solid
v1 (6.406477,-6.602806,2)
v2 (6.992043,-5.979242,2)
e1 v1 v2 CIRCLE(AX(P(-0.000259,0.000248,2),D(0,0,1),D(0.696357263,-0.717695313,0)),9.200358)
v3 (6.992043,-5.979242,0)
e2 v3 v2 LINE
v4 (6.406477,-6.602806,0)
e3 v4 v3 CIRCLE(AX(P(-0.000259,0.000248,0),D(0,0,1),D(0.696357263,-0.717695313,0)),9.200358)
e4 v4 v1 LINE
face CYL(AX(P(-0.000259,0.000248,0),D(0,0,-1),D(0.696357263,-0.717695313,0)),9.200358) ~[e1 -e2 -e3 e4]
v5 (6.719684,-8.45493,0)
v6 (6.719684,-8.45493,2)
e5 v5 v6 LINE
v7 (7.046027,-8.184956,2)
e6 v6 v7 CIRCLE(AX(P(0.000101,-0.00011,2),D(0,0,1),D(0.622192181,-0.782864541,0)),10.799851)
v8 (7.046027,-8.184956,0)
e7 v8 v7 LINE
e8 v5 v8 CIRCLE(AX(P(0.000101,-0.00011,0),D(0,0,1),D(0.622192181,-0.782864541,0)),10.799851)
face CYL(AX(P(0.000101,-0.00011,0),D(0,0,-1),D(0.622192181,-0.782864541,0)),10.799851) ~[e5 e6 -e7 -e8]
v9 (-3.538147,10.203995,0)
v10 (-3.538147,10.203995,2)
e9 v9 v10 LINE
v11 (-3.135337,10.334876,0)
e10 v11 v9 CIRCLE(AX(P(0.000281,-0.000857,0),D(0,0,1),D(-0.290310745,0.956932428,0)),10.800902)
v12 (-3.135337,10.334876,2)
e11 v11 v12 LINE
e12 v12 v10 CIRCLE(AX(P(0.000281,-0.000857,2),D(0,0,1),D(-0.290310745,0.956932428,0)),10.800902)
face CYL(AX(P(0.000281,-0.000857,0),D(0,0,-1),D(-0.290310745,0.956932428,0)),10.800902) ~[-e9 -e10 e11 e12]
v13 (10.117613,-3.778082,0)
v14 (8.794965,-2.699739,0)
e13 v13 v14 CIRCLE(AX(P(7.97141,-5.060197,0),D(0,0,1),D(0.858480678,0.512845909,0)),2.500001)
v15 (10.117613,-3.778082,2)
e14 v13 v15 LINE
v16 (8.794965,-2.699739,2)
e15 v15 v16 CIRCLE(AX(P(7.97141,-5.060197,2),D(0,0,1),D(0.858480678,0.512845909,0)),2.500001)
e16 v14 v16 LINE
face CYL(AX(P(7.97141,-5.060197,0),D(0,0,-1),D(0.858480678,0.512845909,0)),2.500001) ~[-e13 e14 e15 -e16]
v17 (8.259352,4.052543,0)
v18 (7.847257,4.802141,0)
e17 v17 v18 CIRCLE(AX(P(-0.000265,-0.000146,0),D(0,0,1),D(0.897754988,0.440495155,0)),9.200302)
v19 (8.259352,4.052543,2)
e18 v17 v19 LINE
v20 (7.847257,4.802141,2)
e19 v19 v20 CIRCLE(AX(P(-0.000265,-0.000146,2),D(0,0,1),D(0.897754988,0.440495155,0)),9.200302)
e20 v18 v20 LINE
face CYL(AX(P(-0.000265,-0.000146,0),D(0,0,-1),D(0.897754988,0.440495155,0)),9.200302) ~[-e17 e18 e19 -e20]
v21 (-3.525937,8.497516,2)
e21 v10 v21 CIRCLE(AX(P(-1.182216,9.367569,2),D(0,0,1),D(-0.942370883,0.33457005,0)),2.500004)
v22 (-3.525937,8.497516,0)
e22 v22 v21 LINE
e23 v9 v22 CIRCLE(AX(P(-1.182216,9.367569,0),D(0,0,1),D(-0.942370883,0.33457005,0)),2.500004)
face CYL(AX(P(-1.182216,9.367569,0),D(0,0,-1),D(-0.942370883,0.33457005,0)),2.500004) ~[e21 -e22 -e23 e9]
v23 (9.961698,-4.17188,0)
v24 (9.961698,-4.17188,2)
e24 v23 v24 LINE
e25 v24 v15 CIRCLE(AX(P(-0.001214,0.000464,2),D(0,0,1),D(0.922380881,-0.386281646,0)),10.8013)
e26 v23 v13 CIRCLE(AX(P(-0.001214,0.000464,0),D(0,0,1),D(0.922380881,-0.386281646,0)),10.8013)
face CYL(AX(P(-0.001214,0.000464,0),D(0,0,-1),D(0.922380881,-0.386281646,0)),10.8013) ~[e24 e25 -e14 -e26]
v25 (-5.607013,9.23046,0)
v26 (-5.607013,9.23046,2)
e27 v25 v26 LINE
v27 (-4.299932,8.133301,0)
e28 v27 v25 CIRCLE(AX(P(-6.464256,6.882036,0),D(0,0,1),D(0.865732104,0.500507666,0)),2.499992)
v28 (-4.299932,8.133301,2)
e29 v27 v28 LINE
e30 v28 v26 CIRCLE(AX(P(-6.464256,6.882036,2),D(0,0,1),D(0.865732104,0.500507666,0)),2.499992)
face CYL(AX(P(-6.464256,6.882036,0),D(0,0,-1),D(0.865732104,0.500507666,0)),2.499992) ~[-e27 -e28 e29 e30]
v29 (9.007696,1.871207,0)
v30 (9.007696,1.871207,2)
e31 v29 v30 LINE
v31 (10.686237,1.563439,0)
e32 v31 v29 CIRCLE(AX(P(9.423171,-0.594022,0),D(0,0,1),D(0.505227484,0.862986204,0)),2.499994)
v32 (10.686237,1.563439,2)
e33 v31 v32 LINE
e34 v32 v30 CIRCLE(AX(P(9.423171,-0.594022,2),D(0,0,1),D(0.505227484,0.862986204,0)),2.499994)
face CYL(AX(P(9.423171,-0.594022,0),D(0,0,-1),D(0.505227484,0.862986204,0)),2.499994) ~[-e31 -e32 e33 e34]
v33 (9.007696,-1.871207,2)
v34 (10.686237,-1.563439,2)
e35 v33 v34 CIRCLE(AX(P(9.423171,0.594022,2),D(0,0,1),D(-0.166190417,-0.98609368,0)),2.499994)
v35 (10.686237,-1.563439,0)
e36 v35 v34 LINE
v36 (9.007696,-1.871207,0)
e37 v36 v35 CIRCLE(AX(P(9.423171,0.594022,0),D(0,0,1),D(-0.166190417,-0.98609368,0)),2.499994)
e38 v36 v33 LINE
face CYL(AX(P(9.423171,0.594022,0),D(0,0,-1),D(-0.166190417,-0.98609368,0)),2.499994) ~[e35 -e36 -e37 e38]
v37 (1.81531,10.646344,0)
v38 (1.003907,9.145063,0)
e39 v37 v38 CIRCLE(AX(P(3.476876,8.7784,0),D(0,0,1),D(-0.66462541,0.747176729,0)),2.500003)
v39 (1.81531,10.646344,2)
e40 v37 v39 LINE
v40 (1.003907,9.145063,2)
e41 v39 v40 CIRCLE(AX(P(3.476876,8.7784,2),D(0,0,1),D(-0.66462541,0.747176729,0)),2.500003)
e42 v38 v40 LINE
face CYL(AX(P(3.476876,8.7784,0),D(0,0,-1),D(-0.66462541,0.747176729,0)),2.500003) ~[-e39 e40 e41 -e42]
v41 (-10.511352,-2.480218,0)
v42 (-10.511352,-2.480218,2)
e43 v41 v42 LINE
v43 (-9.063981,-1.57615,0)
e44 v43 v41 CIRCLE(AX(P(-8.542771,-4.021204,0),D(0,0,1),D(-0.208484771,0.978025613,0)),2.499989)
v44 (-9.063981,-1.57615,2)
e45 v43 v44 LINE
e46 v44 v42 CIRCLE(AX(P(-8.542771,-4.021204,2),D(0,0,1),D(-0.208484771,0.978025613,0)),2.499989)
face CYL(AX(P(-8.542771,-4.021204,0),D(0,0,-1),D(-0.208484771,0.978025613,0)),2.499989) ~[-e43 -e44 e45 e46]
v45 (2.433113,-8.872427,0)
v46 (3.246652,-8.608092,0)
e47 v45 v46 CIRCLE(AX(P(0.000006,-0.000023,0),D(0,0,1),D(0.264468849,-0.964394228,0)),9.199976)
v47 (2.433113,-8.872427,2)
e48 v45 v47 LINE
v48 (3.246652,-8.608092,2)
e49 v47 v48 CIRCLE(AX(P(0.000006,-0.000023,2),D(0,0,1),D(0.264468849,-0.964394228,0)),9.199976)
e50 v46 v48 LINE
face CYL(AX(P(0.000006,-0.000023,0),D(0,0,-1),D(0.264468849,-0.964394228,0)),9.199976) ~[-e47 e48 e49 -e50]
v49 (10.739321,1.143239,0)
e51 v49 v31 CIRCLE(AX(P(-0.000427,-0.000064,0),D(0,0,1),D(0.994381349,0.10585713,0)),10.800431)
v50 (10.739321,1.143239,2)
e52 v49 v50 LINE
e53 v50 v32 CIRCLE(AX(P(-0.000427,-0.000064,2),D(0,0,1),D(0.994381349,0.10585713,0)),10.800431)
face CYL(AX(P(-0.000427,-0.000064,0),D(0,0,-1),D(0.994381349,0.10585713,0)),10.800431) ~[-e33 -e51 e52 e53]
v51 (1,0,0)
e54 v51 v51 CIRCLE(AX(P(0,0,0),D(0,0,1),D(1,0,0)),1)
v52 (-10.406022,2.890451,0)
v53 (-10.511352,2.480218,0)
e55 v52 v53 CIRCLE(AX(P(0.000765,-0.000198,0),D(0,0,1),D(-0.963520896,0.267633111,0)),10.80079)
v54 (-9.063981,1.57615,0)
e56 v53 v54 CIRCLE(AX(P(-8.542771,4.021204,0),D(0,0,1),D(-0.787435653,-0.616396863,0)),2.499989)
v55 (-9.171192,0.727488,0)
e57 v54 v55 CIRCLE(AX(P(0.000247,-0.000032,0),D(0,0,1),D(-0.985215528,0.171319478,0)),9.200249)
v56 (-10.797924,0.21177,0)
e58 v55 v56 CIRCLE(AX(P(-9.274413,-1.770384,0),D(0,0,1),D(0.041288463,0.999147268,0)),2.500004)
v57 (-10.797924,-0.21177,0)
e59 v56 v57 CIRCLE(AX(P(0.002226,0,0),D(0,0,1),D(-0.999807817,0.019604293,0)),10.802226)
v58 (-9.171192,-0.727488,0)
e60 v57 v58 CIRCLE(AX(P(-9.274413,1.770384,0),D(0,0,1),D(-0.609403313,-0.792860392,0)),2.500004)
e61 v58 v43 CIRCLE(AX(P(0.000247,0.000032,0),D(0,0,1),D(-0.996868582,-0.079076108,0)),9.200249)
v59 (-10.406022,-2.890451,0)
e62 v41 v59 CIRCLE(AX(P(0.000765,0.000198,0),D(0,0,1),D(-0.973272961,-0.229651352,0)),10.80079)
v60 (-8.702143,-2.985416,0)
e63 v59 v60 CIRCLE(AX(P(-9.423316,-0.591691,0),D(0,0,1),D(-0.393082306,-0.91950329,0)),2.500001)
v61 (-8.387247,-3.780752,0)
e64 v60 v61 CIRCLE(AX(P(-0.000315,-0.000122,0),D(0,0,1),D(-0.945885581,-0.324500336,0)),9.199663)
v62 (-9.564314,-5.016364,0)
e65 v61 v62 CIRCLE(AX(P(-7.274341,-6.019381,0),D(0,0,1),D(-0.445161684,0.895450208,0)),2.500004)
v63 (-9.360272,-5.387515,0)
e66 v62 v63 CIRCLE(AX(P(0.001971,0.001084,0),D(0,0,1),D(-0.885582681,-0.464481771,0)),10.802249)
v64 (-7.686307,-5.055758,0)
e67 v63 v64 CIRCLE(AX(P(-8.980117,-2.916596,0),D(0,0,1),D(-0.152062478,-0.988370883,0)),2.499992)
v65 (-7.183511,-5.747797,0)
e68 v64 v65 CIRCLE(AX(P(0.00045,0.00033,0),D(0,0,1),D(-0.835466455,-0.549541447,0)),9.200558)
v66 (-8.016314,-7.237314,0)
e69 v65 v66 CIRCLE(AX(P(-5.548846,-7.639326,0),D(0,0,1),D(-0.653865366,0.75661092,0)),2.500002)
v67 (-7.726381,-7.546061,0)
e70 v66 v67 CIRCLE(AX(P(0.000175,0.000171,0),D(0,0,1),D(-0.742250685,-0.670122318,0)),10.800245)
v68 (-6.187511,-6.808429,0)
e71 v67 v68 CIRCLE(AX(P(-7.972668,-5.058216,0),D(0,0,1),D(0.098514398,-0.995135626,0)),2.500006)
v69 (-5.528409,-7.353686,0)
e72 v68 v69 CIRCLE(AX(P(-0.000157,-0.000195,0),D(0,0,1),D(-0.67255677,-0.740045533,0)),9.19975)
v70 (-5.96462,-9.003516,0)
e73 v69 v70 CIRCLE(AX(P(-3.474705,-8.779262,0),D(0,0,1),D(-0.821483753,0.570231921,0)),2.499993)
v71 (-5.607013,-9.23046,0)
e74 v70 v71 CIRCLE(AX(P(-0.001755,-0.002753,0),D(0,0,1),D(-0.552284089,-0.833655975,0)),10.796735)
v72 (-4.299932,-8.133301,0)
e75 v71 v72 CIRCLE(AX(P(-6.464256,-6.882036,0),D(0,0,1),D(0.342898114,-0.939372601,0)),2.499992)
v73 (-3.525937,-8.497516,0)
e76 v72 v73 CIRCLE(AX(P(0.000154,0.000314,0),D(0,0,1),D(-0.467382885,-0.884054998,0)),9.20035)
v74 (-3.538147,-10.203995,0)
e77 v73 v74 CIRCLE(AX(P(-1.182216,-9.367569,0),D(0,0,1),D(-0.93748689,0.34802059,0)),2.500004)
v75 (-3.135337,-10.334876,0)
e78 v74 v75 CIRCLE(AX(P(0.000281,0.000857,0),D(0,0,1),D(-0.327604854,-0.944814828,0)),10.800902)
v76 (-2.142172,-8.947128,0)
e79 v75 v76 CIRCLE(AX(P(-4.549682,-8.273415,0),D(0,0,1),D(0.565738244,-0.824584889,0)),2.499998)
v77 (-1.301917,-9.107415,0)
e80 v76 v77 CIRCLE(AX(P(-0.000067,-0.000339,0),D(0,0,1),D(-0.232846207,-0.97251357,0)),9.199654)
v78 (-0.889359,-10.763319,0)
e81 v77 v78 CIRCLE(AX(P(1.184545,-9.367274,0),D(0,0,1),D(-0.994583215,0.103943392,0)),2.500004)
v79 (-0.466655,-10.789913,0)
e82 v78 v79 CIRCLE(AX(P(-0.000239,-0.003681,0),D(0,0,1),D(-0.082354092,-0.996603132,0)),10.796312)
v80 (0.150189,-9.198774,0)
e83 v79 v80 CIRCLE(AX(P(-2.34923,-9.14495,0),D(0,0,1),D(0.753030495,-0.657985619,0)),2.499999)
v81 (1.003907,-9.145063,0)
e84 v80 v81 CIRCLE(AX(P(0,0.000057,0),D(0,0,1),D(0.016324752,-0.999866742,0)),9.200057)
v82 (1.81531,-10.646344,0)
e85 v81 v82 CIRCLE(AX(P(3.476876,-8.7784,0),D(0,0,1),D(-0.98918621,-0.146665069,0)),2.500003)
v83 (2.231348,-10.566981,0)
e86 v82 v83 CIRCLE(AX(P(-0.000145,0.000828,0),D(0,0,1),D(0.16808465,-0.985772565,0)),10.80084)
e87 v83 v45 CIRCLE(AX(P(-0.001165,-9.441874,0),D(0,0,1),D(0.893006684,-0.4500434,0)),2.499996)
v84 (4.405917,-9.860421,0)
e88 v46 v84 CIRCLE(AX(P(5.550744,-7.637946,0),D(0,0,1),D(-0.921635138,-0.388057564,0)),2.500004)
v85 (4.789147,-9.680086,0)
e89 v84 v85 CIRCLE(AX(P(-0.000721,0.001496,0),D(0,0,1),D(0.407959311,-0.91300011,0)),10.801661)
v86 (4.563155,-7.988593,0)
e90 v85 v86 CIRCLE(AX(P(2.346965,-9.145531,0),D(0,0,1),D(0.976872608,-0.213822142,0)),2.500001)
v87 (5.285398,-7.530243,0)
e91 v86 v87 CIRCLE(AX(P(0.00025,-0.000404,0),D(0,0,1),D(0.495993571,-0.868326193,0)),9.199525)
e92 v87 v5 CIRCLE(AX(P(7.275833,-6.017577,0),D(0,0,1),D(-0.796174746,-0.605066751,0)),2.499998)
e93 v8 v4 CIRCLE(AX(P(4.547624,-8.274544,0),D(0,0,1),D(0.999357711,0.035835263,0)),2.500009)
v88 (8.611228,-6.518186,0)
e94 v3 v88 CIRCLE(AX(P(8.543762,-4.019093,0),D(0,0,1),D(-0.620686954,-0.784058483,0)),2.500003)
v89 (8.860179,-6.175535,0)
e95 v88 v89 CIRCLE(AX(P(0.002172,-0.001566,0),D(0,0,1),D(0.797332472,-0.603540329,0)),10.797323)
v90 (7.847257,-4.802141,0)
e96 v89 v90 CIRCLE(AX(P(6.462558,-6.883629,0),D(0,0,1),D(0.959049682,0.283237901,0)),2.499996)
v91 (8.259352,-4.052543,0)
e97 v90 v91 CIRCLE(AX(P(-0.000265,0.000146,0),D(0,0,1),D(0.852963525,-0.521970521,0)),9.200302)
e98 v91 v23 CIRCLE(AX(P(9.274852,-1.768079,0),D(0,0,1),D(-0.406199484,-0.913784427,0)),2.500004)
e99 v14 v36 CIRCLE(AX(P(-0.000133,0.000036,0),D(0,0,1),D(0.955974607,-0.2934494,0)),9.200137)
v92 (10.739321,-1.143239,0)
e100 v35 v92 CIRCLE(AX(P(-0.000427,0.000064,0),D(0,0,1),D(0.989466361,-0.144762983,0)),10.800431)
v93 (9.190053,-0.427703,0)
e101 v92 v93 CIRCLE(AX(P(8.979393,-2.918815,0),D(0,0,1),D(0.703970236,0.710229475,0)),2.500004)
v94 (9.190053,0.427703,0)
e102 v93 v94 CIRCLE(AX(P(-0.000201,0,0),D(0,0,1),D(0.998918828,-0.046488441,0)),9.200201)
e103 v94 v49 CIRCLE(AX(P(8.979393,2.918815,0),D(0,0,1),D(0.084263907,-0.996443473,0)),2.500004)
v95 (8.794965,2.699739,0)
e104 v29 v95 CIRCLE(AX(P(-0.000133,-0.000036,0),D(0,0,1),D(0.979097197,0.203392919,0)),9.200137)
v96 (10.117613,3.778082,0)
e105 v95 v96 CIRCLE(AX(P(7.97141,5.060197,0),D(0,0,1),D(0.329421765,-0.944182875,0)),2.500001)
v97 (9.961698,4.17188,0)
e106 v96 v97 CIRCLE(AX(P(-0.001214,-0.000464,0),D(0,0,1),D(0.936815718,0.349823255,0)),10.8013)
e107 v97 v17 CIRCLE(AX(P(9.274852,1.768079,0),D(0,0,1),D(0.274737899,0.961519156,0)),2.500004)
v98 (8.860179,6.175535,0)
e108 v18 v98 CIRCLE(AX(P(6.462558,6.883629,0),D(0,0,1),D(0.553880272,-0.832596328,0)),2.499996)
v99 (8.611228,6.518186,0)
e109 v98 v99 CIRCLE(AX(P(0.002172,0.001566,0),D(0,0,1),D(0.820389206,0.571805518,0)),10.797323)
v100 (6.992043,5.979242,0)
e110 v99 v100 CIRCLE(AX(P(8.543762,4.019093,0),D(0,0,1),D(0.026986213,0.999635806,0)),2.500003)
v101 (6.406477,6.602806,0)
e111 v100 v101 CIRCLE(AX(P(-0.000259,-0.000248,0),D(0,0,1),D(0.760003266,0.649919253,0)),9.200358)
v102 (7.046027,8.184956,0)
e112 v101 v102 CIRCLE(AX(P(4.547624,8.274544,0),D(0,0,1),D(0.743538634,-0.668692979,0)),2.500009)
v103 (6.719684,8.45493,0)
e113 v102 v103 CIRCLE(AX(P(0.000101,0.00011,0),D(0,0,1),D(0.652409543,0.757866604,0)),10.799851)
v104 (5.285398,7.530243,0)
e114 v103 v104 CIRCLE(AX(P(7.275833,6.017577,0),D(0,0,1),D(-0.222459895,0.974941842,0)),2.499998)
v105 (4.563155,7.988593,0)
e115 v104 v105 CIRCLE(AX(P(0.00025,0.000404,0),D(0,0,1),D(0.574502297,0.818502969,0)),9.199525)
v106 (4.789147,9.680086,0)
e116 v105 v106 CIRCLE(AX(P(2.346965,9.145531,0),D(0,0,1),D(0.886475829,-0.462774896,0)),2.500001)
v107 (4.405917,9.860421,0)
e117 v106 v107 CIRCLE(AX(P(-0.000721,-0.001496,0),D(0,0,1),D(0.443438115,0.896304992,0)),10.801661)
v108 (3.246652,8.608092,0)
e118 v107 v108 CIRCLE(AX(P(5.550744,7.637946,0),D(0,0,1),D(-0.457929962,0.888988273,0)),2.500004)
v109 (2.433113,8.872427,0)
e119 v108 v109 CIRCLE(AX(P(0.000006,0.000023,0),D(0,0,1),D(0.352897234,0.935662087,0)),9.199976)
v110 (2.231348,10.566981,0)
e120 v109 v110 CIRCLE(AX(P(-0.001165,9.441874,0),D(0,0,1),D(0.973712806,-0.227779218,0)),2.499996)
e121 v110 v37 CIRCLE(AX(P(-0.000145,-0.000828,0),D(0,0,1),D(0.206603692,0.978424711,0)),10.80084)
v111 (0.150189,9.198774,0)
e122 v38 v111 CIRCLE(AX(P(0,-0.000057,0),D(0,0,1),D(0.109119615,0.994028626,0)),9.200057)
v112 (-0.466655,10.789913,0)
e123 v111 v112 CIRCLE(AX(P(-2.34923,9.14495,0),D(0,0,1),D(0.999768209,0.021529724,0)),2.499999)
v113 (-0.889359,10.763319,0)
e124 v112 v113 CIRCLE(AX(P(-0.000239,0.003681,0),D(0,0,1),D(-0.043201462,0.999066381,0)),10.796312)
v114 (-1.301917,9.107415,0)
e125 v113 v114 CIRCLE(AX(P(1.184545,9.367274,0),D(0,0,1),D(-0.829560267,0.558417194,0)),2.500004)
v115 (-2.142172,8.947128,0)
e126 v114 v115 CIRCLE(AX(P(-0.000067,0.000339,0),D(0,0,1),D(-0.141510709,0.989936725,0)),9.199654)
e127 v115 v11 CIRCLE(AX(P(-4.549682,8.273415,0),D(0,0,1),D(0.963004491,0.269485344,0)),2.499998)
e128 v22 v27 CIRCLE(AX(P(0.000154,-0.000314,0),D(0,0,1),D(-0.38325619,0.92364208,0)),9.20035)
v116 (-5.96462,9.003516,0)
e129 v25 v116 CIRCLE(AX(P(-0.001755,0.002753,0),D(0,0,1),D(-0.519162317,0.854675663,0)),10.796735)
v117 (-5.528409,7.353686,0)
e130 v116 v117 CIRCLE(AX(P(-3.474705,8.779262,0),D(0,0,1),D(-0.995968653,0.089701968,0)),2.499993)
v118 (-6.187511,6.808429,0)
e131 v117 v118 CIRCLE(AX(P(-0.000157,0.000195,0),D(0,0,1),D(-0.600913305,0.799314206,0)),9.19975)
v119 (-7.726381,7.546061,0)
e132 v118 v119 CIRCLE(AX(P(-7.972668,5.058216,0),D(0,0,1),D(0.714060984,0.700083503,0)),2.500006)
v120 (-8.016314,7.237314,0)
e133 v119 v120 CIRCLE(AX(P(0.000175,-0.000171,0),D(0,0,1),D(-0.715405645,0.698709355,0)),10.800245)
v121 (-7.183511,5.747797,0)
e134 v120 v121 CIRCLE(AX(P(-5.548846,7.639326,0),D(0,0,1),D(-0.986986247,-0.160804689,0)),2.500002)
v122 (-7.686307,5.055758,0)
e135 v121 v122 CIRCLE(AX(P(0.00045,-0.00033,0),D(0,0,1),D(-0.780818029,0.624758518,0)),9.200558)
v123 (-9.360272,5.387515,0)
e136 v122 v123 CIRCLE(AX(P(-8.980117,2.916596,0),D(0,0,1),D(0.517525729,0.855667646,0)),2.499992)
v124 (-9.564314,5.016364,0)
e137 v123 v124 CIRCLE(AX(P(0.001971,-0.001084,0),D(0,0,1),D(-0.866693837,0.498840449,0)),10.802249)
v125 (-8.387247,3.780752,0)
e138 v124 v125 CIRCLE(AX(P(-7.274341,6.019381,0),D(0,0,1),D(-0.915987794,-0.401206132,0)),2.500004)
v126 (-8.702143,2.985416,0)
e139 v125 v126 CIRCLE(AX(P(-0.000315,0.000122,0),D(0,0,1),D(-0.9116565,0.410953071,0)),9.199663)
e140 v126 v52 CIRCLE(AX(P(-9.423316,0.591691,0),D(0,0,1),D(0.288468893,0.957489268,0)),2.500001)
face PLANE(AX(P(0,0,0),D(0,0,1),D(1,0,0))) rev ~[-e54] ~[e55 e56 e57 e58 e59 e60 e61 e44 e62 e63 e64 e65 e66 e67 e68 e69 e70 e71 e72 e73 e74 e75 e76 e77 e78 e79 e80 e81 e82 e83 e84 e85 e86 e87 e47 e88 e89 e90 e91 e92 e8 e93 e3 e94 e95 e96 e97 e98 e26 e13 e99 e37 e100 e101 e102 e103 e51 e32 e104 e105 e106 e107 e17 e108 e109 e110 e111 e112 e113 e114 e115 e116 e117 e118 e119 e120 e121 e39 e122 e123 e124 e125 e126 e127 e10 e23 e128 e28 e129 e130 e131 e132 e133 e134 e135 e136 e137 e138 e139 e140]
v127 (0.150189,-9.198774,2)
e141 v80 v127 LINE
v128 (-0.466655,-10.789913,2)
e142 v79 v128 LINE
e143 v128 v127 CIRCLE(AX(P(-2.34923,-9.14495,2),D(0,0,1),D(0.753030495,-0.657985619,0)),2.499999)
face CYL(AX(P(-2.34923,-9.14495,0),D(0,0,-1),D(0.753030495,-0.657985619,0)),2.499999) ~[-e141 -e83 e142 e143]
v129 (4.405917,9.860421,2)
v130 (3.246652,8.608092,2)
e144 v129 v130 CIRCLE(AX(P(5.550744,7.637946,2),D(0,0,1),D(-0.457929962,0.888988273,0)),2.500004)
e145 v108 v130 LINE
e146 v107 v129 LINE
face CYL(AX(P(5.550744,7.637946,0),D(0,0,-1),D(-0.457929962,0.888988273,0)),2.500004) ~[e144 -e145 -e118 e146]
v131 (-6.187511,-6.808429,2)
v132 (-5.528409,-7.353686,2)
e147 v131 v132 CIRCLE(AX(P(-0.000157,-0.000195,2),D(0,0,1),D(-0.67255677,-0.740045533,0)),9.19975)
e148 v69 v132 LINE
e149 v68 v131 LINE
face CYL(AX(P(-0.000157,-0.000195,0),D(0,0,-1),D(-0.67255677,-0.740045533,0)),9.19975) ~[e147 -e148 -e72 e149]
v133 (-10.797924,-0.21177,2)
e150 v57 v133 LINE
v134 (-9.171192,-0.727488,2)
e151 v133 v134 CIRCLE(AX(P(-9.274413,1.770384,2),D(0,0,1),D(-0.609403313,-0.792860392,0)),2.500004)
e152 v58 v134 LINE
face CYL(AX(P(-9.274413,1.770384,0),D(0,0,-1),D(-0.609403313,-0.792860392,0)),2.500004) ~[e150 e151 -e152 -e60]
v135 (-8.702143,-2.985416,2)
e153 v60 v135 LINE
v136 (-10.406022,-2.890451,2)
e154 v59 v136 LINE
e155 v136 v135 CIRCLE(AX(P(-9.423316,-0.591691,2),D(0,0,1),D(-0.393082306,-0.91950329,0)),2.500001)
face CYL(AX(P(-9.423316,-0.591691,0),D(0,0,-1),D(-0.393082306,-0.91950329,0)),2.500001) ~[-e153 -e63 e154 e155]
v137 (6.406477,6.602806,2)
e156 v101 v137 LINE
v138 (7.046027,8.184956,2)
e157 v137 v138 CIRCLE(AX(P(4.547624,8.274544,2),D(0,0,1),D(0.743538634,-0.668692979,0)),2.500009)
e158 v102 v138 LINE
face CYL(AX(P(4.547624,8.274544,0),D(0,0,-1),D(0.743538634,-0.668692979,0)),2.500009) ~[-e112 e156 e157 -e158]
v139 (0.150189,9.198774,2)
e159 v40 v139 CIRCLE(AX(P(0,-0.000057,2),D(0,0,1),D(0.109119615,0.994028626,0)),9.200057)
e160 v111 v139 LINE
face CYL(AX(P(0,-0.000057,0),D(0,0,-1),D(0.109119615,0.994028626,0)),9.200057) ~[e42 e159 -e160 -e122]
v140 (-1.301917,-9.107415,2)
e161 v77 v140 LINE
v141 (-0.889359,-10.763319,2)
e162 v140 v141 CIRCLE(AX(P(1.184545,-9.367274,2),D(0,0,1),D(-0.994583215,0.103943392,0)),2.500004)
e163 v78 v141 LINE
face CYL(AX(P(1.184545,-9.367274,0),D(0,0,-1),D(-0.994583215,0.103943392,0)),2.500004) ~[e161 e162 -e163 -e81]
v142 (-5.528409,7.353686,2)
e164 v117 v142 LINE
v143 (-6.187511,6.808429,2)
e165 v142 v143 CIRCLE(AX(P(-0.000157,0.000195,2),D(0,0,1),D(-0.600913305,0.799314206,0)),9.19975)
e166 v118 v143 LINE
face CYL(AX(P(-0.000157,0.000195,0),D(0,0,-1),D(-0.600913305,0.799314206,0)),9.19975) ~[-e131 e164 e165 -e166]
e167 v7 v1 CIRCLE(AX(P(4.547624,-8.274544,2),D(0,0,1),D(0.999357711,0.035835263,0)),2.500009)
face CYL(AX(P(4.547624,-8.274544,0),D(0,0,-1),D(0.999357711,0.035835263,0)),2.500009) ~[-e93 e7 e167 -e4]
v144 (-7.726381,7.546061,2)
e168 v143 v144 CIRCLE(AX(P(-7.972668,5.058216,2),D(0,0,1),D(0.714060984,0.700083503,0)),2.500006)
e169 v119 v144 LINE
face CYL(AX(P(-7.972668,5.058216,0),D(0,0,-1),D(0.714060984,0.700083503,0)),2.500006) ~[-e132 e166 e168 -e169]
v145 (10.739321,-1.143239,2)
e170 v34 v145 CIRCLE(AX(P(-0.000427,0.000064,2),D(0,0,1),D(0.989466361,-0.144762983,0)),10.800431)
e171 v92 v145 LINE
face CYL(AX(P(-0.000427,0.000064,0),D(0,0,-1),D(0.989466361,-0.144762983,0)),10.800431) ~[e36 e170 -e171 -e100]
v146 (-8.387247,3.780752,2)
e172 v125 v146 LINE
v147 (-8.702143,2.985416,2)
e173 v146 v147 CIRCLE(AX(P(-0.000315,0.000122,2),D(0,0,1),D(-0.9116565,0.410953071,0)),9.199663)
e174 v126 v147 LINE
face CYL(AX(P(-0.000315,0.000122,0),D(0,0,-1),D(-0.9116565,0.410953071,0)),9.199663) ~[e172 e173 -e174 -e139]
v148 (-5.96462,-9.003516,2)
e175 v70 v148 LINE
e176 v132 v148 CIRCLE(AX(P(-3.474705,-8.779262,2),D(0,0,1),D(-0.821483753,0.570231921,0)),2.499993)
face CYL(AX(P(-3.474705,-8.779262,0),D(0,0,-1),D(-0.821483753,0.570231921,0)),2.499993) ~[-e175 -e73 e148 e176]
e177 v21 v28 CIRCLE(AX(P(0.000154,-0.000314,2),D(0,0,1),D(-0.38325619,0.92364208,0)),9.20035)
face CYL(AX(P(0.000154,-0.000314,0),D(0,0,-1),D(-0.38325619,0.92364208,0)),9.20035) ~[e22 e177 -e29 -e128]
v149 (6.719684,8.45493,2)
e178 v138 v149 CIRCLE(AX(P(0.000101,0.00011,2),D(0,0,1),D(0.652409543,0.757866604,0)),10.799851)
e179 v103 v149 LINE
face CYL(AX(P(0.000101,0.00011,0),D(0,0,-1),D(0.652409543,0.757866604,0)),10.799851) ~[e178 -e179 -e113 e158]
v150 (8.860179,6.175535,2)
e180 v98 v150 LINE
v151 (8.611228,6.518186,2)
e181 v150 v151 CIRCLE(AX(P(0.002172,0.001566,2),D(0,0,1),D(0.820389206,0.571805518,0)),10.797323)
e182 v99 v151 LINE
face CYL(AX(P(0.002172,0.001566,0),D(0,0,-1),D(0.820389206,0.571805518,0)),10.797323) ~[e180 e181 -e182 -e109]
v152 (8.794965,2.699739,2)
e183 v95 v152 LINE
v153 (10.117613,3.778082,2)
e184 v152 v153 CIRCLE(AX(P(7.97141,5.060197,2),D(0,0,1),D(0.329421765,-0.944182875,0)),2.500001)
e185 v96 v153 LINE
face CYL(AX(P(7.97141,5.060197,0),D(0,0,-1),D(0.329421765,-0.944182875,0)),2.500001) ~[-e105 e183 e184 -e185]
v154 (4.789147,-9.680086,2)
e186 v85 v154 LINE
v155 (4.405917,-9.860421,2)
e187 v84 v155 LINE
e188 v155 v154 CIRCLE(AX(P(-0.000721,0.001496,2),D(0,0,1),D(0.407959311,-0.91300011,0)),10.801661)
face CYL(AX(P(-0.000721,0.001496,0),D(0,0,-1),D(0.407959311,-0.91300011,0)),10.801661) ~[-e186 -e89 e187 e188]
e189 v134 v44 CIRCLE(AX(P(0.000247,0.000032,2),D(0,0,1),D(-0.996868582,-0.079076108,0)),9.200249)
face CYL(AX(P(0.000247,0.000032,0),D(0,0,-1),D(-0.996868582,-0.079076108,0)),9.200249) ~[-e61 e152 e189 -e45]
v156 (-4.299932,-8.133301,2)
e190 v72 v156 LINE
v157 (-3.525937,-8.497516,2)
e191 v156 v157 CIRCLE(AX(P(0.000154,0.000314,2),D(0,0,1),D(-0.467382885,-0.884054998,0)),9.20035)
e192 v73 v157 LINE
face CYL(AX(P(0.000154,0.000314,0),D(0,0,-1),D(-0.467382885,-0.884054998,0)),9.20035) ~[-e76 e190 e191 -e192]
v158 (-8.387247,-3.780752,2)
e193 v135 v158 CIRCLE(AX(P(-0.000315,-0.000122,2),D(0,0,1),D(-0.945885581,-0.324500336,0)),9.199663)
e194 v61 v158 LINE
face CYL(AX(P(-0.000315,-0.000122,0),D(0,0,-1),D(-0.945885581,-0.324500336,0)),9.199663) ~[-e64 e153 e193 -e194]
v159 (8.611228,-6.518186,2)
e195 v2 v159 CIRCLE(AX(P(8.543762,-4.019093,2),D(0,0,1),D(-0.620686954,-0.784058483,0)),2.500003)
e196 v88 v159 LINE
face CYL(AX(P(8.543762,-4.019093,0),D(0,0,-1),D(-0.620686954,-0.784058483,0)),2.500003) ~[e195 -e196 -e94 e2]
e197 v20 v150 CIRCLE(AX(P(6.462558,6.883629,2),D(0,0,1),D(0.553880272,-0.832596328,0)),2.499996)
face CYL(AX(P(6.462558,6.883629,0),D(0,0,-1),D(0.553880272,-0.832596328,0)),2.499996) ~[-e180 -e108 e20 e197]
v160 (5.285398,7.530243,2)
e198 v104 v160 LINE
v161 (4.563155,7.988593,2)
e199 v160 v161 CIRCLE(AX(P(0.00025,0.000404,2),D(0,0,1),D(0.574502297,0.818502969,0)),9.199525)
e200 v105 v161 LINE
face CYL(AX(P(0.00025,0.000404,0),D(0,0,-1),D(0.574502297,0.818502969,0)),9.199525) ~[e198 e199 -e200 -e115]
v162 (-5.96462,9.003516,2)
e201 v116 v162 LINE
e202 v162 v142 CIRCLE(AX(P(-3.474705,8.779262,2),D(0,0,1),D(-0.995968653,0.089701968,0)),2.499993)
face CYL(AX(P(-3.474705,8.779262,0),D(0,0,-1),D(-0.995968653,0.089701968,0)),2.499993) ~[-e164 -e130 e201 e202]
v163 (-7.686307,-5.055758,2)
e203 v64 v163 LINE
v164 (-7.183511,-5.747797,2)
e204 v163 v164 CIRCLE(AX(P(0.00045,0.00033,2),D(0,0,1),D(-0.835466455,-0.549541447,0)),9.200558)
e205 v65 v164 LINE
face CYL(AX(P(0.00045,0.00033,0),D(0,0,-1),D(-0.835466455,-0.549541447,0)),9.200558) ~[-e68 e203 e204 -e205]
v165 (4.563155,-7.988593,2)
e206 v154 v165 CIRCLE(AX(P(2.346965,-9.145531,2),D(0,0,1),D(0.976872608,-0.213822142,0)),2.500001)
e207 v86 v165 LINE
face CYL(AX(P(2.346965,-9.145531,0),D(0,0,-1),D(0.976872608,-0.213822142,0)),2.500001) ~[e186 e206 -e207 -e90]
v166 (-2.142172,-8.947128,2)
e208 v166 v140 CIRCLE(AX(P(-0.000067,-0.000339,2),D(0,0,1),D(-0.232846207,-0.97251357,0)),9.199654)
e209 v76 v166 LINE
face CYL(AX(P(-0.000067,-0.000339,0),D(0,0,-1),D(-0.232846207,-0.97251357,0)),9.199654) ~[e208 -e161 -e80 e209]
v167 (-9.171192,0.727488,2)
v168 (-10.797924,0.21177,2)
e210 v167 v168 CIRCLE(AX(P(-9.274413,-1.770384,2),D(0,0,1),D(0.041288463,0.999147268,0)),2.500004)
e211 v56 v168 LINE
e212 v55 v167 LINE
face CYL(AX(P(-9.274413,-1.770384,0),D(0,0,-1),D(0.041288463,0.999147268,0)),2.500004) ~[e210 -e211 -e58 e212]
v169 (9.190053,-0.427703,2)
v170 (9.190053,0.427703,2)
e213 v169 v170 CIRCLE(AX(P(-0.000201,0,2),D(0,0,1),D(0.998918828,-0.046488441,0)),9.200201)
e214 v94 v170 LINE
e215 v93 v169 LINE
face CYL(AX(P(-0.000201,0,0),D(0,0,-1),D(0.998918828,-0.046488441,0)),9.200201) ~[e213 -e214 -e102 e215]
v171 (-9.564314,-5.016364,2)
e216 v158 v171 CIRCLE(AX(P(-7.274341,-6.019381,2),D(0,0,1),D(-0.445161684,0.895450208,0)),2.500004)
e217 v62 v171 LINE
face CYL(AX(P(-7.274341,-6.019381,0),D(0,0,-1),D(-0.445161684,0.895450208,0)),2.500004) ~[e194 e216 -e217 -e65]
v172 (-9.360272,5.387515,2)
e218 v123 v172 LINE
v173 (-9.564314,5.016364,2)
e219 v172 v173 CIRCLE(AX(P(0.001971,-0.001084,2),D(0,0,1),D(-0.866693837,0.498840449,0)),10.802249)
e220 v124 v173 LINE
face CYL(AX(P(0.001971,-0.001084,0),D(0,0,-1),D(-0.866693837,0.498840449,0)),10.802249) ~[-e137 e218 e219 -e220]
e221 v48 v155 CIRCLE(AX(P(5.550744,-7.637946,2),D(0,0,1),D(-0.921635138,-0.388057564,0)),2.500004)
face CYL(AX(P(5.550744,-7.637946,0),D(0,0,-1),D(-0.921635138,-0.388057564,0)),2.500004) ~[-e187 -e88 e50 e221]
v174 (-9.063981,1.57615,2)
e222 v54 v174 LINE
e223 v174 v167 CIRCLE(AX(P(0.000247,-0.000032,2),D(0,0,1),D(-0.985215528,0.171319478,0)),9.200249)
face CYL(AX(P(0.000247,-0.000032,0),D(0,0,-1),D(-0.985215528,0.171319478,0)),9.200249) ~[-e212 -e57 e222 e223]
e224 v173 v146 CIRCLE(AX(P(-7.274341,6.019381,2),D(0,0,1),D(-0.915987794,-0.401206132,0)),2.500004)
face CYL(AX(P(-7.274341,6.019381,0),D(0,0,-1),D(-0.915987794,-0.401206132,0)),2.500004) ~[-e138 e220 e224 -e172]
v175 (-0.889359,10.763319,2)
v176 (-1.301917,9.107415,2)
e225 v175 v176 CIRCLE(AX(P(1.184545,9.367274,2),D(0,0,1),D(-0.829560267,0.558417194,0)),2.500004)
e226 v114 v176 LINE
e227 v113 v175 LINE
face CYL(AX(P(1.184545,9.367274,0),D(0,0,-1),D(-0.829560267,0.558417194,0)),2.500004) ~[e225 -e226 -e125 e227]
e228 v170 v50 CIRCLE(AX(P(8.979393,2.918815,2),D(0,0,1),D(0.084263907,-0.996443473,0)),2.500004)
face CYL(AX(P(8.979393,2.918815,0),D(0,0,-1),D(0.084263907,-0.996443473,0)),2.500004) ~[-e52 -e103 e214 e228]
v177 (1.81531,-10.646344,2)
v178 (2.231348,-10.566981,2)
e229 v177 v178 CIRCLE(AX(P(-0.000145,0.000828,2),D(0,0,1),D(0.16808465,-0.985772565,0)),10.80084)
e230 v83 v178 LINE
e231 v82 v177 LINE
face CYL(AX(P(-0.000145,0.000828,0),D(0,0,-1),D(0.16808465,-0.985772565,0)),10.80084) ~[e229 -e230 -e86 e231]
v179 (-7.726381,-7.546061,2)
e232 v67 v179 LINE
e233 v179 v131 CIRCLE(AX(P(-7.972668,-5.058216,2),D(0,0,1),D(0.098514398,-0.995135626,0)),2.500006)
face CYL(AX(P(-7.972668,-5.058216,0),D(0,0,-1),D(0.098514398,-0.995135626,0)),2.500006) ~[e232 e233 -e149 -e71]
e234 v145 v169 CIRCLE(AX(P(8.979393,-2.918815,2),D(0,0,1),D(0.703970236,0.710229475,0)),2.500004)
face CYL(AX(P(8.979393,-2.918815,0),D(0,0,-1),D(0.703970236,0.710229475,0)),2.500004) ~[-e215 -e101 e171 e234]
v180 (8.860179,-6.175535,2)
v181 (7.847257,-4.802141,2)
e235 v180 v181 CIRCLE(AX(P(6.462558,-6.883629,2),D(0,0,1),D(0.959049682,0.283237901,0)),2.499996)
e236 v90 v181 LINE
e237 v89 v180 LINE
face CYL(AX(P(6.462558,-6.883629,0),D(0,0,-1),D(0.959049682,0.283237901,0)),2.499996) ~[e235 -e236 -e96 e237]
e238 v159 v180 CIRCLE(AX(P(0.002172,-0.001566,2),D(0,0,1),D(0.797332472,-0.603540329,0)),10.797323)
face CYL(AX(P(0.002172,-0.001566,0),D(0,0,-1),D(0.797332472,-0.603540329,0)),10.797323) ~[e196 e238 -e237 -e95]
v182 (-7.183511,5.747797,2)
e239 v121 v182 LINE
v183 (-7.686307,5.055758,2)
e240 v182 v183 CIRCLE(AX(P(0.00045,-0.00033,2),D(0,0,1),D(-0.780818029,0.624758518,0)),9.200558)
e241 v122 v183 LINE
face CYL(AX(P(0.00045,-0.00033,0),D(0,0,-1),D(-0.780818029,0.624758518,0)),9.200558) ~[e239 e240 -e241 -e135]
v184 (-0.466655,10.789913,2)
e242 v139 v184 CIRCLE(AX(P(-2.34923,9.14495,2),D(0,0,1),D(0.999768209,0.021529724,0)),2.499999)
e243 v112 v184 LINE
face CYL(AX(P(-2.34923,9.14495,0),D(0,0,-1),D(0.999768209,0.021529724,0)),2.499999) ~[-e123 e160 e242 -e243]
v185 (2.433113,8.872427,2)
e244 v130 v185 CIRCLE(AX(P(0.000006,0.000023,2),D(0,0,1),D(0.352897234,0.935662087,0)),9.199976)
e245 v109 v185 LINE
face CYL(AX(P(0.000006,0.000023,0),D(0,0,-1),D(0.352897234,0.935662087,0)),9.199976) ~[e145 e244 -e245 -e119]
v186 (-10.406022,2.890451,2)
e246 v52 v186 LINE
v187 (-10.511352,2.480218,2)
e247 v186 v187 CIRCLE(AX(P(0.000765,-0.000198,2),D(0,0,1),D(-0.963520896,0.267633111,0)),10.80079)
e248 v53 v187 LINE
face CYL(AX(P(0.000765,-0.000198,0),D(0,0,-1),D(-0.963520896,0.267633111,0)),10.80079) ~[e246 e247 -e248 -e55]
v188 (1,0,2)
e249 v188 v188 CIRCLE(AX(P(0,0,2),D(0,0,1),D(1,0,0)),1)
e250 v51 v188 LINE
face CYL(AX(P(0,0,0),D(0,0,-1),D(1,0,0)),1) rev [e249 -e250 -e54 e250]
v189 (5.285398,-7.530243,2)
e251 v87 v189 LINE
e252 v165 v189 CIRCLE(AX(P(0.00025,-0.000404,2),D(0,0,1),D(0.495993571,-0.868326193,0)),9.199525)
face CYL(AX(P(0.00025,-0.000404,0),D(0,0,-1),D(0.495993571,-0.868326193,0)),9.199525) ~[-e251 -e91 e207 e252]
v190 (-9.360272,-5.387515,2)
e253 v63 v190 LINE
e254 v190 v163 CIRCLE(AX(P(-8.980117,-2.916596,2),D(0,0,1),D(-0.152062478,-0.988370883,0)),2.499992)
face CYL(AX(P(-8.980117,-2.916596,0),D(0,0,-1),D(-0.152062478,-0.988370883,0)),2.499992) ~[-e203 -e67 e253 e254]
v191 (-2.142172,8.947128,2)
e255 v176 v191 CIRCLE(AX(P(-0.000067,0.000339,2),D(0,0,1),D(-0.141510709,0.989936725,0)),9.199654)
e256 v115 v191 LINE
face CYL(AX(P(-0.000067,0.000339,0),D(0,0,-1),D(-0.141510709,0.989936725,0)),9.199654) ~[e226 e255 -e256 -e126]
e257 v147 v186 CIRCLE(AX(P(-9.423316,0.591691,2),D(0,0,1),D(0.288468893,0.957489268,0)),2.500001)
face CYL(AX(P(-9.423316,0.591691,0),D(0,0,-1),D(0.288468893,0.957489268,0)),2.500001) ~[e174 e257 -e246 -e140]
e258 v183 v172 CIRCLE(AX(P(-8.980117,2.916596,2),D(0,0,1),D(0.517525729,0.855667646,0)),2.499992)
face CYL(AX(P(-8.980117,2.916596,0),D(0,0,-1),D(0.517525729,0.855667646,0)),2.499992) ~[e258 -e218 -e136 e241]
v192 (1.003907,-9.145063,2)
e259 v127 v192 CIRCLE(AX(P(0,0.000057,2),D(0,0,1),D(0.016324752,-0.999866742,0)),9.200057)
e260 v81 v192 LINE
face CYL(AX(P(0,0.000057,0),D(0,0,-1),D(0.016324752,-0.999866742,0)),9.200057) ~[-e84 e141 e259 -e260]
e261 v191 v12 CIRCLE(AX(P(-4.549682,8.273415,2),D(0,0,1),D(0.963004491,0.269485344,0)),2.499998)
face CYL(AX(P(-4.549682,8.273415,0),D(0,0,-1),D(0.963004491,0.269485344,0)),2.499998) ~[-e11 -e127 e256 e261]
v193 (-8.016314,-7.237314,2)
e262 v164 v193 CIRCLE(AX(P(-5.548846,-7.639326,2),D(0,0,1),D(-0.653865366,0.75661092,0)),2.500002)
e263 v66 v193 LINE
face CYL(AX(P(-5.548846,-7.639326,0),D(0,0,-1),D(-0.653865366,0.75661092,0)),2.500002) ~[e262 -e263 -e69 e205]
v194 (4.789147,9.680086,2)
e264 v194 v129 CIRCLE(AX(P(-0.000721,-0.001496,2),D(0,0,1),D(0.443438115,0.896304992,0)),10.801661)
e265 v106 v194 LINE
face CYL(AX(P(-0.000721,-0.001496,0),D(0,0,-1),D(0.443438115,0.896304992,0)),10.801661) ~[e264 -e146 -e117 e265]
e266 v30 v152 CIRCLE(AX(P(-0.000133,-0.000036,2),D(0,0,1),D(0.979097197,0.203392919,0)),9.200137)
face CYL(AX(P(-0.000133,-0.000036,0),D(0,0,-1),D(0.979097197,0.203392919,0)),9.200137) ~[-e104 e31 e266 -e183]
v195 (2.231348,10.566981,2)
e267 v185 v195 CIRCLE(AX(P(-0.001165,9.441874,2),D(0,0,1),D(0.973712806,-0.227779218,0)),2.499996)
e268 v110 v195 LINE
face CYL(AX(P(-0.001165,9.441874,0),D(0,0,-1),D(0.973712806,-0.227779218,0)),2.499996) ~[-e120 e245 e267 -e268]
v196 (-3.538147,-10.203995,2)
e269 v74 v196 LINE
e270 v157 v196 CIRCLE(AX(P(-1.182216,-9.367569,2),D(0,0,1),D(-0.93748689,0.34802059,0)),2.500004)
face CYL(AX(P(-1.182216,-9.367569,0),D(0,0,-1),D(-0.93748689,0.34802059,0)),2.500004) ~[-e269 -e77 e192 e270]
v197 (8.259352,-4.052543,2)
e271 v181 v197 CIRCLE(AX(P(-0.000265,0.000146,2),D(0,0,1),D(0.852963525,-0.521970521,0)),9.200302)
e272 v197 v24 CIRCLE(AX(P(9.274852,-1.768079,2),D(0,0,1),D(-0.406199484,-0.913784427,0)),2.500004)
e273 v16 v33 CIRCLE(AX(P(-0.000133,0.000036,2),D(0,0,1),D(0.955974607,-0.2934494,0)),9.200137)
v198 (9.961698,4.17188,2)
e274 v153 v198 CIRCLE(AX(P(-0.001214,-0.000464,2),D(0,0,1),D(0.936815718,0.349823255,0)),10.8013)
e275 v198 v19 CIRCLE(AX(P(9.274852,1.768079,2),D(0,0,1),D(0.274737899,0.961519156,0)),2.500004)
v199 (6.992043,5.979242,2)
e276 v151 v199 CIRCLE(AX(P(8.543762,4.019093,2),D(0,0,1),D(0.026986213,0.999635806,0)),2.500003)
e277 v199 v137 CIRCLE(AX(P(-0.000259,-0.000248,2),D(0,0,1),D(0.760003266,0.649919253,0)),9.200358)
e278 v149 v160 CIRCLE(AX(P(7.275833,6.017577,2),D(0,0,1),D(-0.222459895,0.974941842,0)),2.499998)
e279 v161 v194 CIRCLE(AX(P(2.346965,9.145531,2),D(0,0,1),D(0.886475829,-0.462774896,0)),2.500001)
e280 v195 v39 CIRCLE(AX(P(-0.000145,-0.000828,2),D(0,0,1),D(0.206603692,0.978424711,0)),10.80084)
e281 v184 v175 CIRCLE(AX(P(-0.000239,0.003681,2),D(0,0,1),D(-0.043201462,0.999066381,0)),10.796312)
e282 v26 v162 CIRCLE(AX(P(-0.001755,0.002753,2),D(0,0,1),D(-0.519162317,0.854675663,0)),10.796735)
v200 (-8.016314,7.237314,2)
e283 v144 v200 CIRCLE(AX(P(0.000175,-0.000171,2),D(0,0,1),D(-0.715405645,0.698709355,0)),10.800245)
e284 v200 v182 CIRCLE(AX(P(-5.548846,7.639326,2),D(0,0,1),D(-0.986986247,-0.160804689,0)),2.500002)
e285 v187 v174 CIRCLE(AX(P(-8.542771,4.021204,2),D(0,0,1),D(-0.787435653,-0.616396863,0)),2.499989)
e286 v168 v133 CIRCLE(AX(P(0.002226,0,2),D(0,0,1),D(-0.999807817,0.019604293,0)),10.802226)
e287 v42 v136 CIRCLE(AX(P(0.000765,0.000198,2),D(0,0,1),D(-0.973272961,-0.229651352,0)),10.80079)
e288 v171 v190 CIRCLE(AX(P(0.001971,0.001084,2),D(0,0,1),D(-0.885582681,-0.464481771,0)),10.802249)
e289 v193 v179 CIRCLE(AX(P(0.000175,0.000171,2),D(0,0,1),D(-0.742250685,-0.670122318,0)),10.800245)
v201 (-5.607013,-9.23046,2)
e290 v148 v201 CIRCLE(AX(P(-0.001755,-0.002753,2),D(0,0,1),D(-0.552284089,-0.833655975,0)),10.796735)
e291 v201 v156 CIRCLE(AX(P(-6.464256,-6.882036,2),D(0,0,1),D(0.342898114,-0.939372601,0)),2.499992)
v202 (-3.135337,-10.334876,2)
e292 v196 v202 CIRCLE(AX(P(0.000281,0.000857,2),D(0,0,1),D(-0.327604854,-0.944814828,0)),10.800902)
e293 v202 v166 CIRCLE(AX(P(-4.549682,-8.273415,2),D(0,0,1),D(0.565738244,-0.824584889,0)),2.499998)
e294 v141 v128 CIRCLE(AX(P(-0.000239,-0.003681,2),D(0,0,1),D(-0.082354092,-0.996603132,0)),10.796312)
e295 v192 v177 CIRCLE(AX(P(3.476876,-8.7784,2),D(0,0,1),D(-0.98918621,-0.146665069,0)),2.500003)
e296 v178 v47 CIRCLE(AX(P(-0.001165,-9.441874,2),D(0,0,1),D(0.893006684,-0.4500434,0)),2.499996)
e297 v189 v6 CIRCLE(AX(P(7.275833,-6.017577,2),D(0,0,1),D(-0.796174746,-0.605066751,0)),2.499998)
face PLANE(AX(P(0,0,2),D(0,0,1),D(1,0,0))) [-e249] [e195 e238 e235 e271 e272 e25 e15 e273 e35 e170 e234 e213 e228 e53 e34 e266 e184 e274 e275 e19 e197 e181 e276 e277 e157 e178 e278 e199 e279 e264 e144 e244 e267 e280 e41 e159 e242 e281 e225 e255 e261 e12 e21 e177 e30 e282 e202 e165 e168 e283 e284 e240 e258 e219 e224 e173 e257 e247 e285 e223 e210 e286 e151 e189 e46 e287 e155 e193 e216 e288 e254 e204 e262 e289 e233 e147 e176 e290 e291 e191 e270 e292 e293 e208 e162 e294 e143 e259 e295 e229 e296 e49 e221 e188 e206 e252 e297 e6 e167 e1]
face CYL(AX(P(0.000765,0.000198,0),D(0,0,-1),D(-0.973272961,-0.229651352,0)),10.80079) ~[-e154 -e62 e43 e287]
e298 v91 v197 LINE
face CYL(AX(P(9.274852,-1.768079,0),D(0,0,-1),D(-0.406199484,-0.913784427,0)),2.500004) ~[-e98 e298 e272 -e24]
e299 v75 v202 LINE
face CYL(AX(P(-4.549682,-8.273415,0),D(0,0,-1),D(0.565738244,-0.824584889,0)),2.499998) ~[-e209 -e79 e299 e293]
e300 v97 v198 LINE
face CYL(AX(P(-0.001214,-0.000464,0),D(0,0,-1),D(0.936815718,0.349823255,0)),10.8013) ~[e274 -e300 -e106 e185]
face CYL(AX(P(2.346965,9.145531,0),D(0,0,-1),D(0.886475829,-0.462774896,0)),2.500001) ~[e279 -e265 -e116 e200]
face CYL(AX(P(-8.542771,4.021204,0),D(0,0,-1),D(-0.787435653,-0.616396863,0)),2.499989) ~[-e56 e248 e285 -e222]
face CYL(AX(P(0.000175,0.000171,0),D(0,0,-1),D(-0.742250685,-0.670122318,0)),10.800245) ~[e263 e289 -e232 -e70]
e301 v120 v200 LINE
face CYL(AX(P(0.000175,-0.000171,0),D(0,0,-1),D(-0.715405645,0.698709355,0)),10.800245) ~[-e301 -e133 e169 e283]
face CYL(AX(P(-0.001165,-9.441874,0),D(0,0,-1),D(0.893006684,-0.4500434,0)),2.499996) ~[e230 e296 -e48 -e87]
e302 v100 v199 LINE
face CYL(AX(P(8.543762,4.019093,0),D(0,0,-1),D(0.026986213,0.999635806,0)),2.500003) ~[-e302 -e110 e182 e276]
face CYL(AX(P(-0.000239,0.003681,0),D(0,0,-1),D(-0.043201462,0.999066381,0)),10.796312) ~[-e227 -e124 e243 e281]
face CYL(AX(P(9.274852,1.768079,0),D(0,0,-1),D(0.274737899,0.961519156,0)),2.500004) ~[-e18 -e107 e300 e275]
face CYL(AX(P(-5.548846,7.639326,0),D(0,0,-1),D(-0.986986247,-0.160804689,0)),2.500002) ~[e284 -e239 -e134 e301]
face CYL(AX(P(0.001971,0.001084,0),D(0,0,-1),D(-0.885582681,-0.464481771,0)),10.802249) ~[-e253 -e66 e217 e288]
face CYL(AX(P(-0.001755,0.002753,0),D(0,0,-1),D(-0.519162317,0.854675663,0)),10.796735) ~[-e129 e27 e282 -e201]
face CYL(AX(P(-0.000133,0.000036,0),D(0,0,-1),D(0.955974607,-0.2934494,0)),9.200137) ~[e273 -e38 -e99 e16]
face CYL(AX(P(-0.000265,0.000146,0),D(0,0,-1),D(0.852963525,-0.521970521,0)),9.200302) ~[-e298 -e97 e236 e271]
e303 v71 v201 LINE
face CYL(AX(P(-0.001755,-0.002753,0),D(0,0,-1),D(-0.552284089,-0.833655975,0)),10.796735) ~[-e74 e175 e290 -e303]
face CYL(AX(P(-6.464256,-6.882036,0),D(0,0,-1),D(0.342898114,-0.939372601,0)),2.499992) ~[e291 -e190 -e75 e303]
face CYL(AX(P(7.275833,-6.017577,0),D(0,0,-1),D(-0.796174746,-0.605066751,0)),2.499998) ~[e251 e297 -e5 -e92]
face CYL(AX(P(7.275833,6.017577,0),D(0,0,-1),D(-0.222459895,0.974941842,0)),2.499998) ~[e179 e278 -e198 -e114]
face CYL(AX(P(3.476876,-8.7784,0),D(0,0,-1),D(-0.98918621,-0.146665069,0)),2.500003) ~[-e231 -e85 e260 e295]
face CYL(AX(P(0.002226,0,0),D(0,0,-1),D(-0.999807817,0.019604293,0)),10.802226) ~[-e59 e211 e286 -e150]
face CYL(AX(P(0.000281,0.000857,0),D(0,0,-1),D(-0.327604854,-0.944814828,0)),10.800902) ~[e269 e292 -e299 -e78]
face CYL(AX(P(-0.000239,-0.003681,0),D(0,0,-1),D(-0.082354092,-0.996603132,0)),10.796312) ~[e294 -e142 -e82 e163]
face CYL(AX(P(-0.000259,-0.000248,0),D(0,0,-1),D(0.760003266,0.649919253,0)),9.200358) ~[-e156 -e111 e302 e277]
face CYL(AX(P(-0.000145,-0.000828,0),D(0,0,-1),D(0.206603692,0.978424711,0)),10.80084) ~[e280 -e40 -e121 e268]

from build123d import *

# Parameters (mm, degrees)
F0_R     = 1
F1_DEPTH = 2


with BuildPart() as f1:
    # F0 (on Top) → F1 (new body)
    with BuildSketch(Plane.XY):
        with BuildLine():
            ThreePointArc((1.003907, 9.145063), (0.577673, 9.181846), (0.150189, 9.198774))
            ThreePointArc((0.150189, 9.198774), (-0.018265, 10.048606), (-0.466655, 10.789913))
            ThreePointArc((-0.466655, 10.789913), (-0.678138, 10.778689), (-0.889359, 10.763319))
            ThreePointArc((-0.889359, 10.763319), (-1.241303, 9.971659), (-1.301917, 9.107415))
            ThreePointArc((-1.301917, 9.107415), (-1.723908, 9.037043), (-2.142172, 8.947128))
            ThreePointArc((-2.142172, 8.947128), (-2.516678, 9.728368), (-3.135337, 10.334876))
            ThreePointArc((-3.135337, 10.334876), (-3.337384, 10.27141), (-3.538147, 10.203995))
            ThreePointArc((-3.538147, 10.203995), (-3.682156, 9.349681), (-3.525937, 8.497516))
            ThreePointArc((-3.525937, 8.497516), (-3.917169, 8.324409), (-4.299932, 8.133301))
            ThreePointArc((-4.299932, 8.133301), (-4.856958, 8.796861), (-5.607013, 9.23046))
            ThreePointArc((-5.607013, 9.23046), (-5.786929, 9.118742), (-5.96462, 9.003516))
            ThreePointArc((-5.96462, 9.003516), (-5.891646, 8.140229), (-5.528409, 7.353686))
            ThreePointArc((-5.528409, 7.353686), (-5.864301, 7.088722), (-6.187511, 6.808429))
            ThreePointArc((-6.187511, 6.808429), (-6.892059, 7.312615), (-7.726381, 7.546061))
            ThreePointArc((-7.726381, 7.546061), (-7.872861, 7.393109), (-8.016314, 7.237314))
            ThreePointArc((-8.016314, 7.237314), (-7.730941, 6.419296), (-7.183511, 5.747797))
            ThreePointArc((-7.183511, 5.747797), (-7.442956, 5.407624), (-7.686307, 5.055758))
            ThreePointArc((-7.686307, 5.055758), (-8.494105, 5.368891), (-9.360272, 5.387515))
            ThreePointArc((-9.360272, 5.387515), (-9.464112, 5.20294), (-9.564314, 5.016364))
            ThreePointArc((-9.564314, 5.016364), (-9.084474, 4.295015), (-8.387247, 3.780752))
            ThreePointArc((-8.387247, 3.780752), (-8.553944, 3.386746), (-8.702143, 2.985416))
            ThreePointArc((-8.702143, 2.985416), (-9.562436, 3.087819), (-10.406022, 2.890451))
            ThreePointArc((-10.406022, 2.890451), (-10.460698, 2.685851), (-10.511352, 2.480218))
            ThreePointArc((-10.511352, 2.480218), (-9.867195, 1.900862), (-9.063981, 1.57615))
            ThreePointArc((-9.063981, 1.57615), (-9.127455, 1.153066), (-9.171192, 0.727488))
            ThreePointArc((-9.171192, 0.727488), (-10.029924, 0.612728), (-10.797924, 0.21177))
            ThreePointArc((-10.797924, 0.21177), (-10.8, 0), (-10.797924, -0.21177))
            ThreePointArc((-10.797924, -0.21177), (-10.029924, -0.612728), (-9.171192, -0.727488))
            ThreePointArc((-9.171192, -0.727488), (-9.127455, -1.153066), (-9.063981, -1.57615))
            ThreePointArc((-9.063981, -1.57615), (-9.867195, -1.900862), (-10.511352, -2.480218))
            ThreePointArc((-10.511352, -2.480218), (-10.460698, -2.685851), (-10.406022, -2.890451))
            ThreePointArc((-10.406022, -2.890451), (-9.562436, -3.087819), (-8.702143, -2.985416))
            ThreePointArc((-8.702143, -2.985416), (-8.553944, -3.386746), (-8.387247, -3.780752))
            ThreePointArc((-8.387247, -3.780752), (-9.084474, -4.295015), (-9.564314, -5.016364))
            ThreePointArc((-9.564314, -5.016364), (-9.464112, -5.20294), (-9.360272, -5.387515))
            ThreePointArc((-9.360272, -5.387515), (-8.494105, -5.368891), (-7.686307, -5.055758))
            ThreePointArc((-7.686307, -5.055758), (-7.442956, -5.407624), (-7.183511, -5.747797))
            ThreePointArc((-7.183511, -5.747797), (-7.730941, -6.419296), (-8.016314, -7.237314))
            ThreePointArc((-8.016314, -7.237314), (-7.872861, -7.393109), (-7.726381, -7.546061))
            ThreePointArc((-7.726381, -7.546061), (-6.892059, -7.312615), (-6.187511, -6.808429))
            ThreePointArc((-6.187511, -6.808429), (-5.864301, -7.088722), (-5.528409, -7.353686))
            ThreePointArc((-5.528409, -7.353686), (-5.891646, -8.140229), (-5.96462, -9.003516))
            ThreePointArc((-5.96462, -9.003516), (-5.786929, -9.118742), (-5.607013, -9.23046))
            ThreePointArc((-5.607013, -9.23046), (-4.856958, -8.796861), (-4.299932, -8.133301))
            ThreePointArc((-4.299932, -8.133301), (-3.917169, -8.324409), (-3.525937, -8.497516))
            ThreePointArc((-3.525937, -8.497516), (-3.682156, -9.349681), (-3.538147, -10.203995))
            ThreePointArc((-3.538147, -10.203995), (-3.337384, -10.27141), (-3.135337, -10.334876))
            ThreePointArc((-3.135337, -10.334876), (-2.516678, -9.728368), (-2.142172, -8.947128))
            ThreePointArc((-2.142172, -8.947128), (-1.723908, -9.037043), (-1.301917, -9.107415))
            ThreePointArc((-1.301917, -9.107415), (-1.241303, -9.971659), (-0.889359, -10.763319))
            ThreePointArc((-0.889359, -10.763319), (-0.678138, -10.778689), (-0.466655, -10.789913))
            ThreePointArc((-0.466655, -10.789913), (-0.018265, -10.048606), (0.150189, -9.198774))
            ThreePointArc((0.150189, -9.198774), (0.577673, -9.181846), (1.003907, -9.145063))
            ThreePointArc((1.003907, -9.145063), (1.277545, -9.96708), (1.81531, -10.646344))
            ThreePointArc((1.81531, -10.646344), (2.023718, -10.608702), (2.231348, -10.566981))
            ThreePointArc((2.231348, -10.566981), (2.481296, -9.737453), (2.433113, -8.872427))
            ThreePointArc((2.433113, -8.872427), (2.842956, -8.74972), (3.246652, -8.608092))
            ThreePointArc((3.246652, -8.608092), (3.716121, -9.336234), (4.405917, -9.860421))
            ThreePointArc((4.405917, -9.860421), (4.598416, -9.772132), (4.789147, -9.680086))
            ThreePointArc((4.789147, -9.680086), (4.824947, -8.81446), (4.563155, -7.988593))
            ThreePointArc((4.563155, -7.988593), (4.929607, -7.767817), (5.285398, -7.530243))
            ThreePointArc((5.285398, -7.530243), (5.921199, -8.118757), (6.719684, -8.45493))
            ThreePointArc((6.719684, -8.45493), (6.884179, -8.321543), (7.046027, -8.184956))
            ThreePointArc((7.046027, -8.184956), (6.865429, -7.337622), (6.406477, -6.602806))
            ThreePointArc((6.406477, -6.602806), (6.706511, -6.297833), (6.992043, -5.979242))
            ThreePointArc((6.992043, -5.979242), (7.754226, -6.391149), (8.611228, -6.518186))
            ThreePointArc((8.611228, -6.518186), (8.737384, -6.348081), (8.860179, -6.175535))
            ThreePointArc((8.860179, -6.175535), (8.474532, -5.399734), (7.847257, -4.802141))
            ThreePointArc((7.847257, -4.802141), (8.062021, -4.432134), (8.259352, -4.052543))
            ThreePointArc((8.259352, -4.052543), (9.100027, -4.261962), (9.961698, -4.17188))
            ThreePointArc((9.961698, -4.17188), (10.041586, -3.975745), (10.117613, -3.778082))
            ThreePointArc((10.117613, -3.778082), (9.551148, -3.122561), (8.794965, -2.699739))
            ThreePointArc((8.794965, -2.699739), (8.910965, -2.287947), (9.007696, -1.871207))
            ThreePointArc((9.007696, -1.871207), (9.87404, -1.86498), (10.686237, -1.563439))
            ThreePointArc((10.686237, -1.563439), (10.714839, -1.353599), (10.739321, -1.143239))
            ThreePointArc((10.739321, -1.143239), (10.02763, -0.649186), (9.190053, -0.427703))
            ThreePointArc((9.190053, -0.427703), (9.2, 0), (9.190053, 0.427703))
            ThreePointArc((9.190053, 0.427703), (10.02763, 0.649186), (10.739321, 1.143239))
            ThreePointArc((10.739321, 1.143239), (10.714839, 1.353599), (10.686237, 1.563439))
            ThreePointArc((10.686237, 1.563439), (9.87404, 1.86498), (9.007696, 1.871207))
            ThreePointArc((9.007696, 1.871207), (8.910965, 2.287947), (8.794965, 2.699739))
            ThreePointArc((8.794965, 2.699739), (9.551148, 3.122561), (10.117613, 3.778082))
            ThreePointArc((10.117613, 3.778082), (10.041586, 3.975745), (9.961698, 4.17188))
            ThreePointArc((9.961698, 4.17188), (9.100027, 4.261962), (8.259352, 4.052543))
            ThreePointArc((8.259352, 4.052543), (8.062021, 4.432134), (7.847257, 4.802141))
            ThreePointArc((7.847257, 4.802141), (8.474532, 5.399734), (8.860179, 6.175535))
            ThreePointArc((8.860179, 6.175535), (8.737384, 6.348081), (8.611228, 6.518186))
            ThreePointArc((8.611228, 6.518186), (7.754226, 6.391149), (6.992043, 5.979242))
            ThreePointArc((6.992043, 5.979242), (6.706511, 6.297833), (6.406477, 6.602806))
            ThreePointArc((6.406477, 6.602806), (6.865429, 7.337622), (7.046027, 8.184956))
            ThreePointArc((7.046027, 8.184956), (6.884179, 8.321543), (6.719684, 8.45493))
            ThreePointArc((6.719684, 8.45493), (5.921199, 8.118757), (5.285398, 7.530243))
            ThreePointArc((5.285398, 7.530243), (4.929607, 7.767817), (4.563155, 7.988593))
            ThreePointArc((4.563155, 7.988593), (4.824947, 8.81446), (4.789147, 9.680086))
            ThreePointArc((4.789147, 9.680086), (4.598416, 9.772132), (4.405917, 9.860421))
            ThreePointArc((4.405917, 9.860421), (3.716121, 9.336234), (3.246652, 8.608092))
            ThreePointArc((3.246652, 8.608092), (2.842956, 8.74972), (2.433113, 8.872427))
            ThreePointArc((2.433113, 8.872427), (2.481296, 9.737453), (2.231348, 10.566981))
            ThreePointArc((2.231348, 10.566981), (2.023718, 10.608702), (1.81531, 10.646344))
            ThreePointArc((1.81531, 10.646344), (1.277545, 9.96708), (1.003907, 9.145063))
        make_face()
        Circle(F0_R, mode=Mode.SUBTRACT)
    extrude(amount=F1_DEPTH)


solid = f1.part
